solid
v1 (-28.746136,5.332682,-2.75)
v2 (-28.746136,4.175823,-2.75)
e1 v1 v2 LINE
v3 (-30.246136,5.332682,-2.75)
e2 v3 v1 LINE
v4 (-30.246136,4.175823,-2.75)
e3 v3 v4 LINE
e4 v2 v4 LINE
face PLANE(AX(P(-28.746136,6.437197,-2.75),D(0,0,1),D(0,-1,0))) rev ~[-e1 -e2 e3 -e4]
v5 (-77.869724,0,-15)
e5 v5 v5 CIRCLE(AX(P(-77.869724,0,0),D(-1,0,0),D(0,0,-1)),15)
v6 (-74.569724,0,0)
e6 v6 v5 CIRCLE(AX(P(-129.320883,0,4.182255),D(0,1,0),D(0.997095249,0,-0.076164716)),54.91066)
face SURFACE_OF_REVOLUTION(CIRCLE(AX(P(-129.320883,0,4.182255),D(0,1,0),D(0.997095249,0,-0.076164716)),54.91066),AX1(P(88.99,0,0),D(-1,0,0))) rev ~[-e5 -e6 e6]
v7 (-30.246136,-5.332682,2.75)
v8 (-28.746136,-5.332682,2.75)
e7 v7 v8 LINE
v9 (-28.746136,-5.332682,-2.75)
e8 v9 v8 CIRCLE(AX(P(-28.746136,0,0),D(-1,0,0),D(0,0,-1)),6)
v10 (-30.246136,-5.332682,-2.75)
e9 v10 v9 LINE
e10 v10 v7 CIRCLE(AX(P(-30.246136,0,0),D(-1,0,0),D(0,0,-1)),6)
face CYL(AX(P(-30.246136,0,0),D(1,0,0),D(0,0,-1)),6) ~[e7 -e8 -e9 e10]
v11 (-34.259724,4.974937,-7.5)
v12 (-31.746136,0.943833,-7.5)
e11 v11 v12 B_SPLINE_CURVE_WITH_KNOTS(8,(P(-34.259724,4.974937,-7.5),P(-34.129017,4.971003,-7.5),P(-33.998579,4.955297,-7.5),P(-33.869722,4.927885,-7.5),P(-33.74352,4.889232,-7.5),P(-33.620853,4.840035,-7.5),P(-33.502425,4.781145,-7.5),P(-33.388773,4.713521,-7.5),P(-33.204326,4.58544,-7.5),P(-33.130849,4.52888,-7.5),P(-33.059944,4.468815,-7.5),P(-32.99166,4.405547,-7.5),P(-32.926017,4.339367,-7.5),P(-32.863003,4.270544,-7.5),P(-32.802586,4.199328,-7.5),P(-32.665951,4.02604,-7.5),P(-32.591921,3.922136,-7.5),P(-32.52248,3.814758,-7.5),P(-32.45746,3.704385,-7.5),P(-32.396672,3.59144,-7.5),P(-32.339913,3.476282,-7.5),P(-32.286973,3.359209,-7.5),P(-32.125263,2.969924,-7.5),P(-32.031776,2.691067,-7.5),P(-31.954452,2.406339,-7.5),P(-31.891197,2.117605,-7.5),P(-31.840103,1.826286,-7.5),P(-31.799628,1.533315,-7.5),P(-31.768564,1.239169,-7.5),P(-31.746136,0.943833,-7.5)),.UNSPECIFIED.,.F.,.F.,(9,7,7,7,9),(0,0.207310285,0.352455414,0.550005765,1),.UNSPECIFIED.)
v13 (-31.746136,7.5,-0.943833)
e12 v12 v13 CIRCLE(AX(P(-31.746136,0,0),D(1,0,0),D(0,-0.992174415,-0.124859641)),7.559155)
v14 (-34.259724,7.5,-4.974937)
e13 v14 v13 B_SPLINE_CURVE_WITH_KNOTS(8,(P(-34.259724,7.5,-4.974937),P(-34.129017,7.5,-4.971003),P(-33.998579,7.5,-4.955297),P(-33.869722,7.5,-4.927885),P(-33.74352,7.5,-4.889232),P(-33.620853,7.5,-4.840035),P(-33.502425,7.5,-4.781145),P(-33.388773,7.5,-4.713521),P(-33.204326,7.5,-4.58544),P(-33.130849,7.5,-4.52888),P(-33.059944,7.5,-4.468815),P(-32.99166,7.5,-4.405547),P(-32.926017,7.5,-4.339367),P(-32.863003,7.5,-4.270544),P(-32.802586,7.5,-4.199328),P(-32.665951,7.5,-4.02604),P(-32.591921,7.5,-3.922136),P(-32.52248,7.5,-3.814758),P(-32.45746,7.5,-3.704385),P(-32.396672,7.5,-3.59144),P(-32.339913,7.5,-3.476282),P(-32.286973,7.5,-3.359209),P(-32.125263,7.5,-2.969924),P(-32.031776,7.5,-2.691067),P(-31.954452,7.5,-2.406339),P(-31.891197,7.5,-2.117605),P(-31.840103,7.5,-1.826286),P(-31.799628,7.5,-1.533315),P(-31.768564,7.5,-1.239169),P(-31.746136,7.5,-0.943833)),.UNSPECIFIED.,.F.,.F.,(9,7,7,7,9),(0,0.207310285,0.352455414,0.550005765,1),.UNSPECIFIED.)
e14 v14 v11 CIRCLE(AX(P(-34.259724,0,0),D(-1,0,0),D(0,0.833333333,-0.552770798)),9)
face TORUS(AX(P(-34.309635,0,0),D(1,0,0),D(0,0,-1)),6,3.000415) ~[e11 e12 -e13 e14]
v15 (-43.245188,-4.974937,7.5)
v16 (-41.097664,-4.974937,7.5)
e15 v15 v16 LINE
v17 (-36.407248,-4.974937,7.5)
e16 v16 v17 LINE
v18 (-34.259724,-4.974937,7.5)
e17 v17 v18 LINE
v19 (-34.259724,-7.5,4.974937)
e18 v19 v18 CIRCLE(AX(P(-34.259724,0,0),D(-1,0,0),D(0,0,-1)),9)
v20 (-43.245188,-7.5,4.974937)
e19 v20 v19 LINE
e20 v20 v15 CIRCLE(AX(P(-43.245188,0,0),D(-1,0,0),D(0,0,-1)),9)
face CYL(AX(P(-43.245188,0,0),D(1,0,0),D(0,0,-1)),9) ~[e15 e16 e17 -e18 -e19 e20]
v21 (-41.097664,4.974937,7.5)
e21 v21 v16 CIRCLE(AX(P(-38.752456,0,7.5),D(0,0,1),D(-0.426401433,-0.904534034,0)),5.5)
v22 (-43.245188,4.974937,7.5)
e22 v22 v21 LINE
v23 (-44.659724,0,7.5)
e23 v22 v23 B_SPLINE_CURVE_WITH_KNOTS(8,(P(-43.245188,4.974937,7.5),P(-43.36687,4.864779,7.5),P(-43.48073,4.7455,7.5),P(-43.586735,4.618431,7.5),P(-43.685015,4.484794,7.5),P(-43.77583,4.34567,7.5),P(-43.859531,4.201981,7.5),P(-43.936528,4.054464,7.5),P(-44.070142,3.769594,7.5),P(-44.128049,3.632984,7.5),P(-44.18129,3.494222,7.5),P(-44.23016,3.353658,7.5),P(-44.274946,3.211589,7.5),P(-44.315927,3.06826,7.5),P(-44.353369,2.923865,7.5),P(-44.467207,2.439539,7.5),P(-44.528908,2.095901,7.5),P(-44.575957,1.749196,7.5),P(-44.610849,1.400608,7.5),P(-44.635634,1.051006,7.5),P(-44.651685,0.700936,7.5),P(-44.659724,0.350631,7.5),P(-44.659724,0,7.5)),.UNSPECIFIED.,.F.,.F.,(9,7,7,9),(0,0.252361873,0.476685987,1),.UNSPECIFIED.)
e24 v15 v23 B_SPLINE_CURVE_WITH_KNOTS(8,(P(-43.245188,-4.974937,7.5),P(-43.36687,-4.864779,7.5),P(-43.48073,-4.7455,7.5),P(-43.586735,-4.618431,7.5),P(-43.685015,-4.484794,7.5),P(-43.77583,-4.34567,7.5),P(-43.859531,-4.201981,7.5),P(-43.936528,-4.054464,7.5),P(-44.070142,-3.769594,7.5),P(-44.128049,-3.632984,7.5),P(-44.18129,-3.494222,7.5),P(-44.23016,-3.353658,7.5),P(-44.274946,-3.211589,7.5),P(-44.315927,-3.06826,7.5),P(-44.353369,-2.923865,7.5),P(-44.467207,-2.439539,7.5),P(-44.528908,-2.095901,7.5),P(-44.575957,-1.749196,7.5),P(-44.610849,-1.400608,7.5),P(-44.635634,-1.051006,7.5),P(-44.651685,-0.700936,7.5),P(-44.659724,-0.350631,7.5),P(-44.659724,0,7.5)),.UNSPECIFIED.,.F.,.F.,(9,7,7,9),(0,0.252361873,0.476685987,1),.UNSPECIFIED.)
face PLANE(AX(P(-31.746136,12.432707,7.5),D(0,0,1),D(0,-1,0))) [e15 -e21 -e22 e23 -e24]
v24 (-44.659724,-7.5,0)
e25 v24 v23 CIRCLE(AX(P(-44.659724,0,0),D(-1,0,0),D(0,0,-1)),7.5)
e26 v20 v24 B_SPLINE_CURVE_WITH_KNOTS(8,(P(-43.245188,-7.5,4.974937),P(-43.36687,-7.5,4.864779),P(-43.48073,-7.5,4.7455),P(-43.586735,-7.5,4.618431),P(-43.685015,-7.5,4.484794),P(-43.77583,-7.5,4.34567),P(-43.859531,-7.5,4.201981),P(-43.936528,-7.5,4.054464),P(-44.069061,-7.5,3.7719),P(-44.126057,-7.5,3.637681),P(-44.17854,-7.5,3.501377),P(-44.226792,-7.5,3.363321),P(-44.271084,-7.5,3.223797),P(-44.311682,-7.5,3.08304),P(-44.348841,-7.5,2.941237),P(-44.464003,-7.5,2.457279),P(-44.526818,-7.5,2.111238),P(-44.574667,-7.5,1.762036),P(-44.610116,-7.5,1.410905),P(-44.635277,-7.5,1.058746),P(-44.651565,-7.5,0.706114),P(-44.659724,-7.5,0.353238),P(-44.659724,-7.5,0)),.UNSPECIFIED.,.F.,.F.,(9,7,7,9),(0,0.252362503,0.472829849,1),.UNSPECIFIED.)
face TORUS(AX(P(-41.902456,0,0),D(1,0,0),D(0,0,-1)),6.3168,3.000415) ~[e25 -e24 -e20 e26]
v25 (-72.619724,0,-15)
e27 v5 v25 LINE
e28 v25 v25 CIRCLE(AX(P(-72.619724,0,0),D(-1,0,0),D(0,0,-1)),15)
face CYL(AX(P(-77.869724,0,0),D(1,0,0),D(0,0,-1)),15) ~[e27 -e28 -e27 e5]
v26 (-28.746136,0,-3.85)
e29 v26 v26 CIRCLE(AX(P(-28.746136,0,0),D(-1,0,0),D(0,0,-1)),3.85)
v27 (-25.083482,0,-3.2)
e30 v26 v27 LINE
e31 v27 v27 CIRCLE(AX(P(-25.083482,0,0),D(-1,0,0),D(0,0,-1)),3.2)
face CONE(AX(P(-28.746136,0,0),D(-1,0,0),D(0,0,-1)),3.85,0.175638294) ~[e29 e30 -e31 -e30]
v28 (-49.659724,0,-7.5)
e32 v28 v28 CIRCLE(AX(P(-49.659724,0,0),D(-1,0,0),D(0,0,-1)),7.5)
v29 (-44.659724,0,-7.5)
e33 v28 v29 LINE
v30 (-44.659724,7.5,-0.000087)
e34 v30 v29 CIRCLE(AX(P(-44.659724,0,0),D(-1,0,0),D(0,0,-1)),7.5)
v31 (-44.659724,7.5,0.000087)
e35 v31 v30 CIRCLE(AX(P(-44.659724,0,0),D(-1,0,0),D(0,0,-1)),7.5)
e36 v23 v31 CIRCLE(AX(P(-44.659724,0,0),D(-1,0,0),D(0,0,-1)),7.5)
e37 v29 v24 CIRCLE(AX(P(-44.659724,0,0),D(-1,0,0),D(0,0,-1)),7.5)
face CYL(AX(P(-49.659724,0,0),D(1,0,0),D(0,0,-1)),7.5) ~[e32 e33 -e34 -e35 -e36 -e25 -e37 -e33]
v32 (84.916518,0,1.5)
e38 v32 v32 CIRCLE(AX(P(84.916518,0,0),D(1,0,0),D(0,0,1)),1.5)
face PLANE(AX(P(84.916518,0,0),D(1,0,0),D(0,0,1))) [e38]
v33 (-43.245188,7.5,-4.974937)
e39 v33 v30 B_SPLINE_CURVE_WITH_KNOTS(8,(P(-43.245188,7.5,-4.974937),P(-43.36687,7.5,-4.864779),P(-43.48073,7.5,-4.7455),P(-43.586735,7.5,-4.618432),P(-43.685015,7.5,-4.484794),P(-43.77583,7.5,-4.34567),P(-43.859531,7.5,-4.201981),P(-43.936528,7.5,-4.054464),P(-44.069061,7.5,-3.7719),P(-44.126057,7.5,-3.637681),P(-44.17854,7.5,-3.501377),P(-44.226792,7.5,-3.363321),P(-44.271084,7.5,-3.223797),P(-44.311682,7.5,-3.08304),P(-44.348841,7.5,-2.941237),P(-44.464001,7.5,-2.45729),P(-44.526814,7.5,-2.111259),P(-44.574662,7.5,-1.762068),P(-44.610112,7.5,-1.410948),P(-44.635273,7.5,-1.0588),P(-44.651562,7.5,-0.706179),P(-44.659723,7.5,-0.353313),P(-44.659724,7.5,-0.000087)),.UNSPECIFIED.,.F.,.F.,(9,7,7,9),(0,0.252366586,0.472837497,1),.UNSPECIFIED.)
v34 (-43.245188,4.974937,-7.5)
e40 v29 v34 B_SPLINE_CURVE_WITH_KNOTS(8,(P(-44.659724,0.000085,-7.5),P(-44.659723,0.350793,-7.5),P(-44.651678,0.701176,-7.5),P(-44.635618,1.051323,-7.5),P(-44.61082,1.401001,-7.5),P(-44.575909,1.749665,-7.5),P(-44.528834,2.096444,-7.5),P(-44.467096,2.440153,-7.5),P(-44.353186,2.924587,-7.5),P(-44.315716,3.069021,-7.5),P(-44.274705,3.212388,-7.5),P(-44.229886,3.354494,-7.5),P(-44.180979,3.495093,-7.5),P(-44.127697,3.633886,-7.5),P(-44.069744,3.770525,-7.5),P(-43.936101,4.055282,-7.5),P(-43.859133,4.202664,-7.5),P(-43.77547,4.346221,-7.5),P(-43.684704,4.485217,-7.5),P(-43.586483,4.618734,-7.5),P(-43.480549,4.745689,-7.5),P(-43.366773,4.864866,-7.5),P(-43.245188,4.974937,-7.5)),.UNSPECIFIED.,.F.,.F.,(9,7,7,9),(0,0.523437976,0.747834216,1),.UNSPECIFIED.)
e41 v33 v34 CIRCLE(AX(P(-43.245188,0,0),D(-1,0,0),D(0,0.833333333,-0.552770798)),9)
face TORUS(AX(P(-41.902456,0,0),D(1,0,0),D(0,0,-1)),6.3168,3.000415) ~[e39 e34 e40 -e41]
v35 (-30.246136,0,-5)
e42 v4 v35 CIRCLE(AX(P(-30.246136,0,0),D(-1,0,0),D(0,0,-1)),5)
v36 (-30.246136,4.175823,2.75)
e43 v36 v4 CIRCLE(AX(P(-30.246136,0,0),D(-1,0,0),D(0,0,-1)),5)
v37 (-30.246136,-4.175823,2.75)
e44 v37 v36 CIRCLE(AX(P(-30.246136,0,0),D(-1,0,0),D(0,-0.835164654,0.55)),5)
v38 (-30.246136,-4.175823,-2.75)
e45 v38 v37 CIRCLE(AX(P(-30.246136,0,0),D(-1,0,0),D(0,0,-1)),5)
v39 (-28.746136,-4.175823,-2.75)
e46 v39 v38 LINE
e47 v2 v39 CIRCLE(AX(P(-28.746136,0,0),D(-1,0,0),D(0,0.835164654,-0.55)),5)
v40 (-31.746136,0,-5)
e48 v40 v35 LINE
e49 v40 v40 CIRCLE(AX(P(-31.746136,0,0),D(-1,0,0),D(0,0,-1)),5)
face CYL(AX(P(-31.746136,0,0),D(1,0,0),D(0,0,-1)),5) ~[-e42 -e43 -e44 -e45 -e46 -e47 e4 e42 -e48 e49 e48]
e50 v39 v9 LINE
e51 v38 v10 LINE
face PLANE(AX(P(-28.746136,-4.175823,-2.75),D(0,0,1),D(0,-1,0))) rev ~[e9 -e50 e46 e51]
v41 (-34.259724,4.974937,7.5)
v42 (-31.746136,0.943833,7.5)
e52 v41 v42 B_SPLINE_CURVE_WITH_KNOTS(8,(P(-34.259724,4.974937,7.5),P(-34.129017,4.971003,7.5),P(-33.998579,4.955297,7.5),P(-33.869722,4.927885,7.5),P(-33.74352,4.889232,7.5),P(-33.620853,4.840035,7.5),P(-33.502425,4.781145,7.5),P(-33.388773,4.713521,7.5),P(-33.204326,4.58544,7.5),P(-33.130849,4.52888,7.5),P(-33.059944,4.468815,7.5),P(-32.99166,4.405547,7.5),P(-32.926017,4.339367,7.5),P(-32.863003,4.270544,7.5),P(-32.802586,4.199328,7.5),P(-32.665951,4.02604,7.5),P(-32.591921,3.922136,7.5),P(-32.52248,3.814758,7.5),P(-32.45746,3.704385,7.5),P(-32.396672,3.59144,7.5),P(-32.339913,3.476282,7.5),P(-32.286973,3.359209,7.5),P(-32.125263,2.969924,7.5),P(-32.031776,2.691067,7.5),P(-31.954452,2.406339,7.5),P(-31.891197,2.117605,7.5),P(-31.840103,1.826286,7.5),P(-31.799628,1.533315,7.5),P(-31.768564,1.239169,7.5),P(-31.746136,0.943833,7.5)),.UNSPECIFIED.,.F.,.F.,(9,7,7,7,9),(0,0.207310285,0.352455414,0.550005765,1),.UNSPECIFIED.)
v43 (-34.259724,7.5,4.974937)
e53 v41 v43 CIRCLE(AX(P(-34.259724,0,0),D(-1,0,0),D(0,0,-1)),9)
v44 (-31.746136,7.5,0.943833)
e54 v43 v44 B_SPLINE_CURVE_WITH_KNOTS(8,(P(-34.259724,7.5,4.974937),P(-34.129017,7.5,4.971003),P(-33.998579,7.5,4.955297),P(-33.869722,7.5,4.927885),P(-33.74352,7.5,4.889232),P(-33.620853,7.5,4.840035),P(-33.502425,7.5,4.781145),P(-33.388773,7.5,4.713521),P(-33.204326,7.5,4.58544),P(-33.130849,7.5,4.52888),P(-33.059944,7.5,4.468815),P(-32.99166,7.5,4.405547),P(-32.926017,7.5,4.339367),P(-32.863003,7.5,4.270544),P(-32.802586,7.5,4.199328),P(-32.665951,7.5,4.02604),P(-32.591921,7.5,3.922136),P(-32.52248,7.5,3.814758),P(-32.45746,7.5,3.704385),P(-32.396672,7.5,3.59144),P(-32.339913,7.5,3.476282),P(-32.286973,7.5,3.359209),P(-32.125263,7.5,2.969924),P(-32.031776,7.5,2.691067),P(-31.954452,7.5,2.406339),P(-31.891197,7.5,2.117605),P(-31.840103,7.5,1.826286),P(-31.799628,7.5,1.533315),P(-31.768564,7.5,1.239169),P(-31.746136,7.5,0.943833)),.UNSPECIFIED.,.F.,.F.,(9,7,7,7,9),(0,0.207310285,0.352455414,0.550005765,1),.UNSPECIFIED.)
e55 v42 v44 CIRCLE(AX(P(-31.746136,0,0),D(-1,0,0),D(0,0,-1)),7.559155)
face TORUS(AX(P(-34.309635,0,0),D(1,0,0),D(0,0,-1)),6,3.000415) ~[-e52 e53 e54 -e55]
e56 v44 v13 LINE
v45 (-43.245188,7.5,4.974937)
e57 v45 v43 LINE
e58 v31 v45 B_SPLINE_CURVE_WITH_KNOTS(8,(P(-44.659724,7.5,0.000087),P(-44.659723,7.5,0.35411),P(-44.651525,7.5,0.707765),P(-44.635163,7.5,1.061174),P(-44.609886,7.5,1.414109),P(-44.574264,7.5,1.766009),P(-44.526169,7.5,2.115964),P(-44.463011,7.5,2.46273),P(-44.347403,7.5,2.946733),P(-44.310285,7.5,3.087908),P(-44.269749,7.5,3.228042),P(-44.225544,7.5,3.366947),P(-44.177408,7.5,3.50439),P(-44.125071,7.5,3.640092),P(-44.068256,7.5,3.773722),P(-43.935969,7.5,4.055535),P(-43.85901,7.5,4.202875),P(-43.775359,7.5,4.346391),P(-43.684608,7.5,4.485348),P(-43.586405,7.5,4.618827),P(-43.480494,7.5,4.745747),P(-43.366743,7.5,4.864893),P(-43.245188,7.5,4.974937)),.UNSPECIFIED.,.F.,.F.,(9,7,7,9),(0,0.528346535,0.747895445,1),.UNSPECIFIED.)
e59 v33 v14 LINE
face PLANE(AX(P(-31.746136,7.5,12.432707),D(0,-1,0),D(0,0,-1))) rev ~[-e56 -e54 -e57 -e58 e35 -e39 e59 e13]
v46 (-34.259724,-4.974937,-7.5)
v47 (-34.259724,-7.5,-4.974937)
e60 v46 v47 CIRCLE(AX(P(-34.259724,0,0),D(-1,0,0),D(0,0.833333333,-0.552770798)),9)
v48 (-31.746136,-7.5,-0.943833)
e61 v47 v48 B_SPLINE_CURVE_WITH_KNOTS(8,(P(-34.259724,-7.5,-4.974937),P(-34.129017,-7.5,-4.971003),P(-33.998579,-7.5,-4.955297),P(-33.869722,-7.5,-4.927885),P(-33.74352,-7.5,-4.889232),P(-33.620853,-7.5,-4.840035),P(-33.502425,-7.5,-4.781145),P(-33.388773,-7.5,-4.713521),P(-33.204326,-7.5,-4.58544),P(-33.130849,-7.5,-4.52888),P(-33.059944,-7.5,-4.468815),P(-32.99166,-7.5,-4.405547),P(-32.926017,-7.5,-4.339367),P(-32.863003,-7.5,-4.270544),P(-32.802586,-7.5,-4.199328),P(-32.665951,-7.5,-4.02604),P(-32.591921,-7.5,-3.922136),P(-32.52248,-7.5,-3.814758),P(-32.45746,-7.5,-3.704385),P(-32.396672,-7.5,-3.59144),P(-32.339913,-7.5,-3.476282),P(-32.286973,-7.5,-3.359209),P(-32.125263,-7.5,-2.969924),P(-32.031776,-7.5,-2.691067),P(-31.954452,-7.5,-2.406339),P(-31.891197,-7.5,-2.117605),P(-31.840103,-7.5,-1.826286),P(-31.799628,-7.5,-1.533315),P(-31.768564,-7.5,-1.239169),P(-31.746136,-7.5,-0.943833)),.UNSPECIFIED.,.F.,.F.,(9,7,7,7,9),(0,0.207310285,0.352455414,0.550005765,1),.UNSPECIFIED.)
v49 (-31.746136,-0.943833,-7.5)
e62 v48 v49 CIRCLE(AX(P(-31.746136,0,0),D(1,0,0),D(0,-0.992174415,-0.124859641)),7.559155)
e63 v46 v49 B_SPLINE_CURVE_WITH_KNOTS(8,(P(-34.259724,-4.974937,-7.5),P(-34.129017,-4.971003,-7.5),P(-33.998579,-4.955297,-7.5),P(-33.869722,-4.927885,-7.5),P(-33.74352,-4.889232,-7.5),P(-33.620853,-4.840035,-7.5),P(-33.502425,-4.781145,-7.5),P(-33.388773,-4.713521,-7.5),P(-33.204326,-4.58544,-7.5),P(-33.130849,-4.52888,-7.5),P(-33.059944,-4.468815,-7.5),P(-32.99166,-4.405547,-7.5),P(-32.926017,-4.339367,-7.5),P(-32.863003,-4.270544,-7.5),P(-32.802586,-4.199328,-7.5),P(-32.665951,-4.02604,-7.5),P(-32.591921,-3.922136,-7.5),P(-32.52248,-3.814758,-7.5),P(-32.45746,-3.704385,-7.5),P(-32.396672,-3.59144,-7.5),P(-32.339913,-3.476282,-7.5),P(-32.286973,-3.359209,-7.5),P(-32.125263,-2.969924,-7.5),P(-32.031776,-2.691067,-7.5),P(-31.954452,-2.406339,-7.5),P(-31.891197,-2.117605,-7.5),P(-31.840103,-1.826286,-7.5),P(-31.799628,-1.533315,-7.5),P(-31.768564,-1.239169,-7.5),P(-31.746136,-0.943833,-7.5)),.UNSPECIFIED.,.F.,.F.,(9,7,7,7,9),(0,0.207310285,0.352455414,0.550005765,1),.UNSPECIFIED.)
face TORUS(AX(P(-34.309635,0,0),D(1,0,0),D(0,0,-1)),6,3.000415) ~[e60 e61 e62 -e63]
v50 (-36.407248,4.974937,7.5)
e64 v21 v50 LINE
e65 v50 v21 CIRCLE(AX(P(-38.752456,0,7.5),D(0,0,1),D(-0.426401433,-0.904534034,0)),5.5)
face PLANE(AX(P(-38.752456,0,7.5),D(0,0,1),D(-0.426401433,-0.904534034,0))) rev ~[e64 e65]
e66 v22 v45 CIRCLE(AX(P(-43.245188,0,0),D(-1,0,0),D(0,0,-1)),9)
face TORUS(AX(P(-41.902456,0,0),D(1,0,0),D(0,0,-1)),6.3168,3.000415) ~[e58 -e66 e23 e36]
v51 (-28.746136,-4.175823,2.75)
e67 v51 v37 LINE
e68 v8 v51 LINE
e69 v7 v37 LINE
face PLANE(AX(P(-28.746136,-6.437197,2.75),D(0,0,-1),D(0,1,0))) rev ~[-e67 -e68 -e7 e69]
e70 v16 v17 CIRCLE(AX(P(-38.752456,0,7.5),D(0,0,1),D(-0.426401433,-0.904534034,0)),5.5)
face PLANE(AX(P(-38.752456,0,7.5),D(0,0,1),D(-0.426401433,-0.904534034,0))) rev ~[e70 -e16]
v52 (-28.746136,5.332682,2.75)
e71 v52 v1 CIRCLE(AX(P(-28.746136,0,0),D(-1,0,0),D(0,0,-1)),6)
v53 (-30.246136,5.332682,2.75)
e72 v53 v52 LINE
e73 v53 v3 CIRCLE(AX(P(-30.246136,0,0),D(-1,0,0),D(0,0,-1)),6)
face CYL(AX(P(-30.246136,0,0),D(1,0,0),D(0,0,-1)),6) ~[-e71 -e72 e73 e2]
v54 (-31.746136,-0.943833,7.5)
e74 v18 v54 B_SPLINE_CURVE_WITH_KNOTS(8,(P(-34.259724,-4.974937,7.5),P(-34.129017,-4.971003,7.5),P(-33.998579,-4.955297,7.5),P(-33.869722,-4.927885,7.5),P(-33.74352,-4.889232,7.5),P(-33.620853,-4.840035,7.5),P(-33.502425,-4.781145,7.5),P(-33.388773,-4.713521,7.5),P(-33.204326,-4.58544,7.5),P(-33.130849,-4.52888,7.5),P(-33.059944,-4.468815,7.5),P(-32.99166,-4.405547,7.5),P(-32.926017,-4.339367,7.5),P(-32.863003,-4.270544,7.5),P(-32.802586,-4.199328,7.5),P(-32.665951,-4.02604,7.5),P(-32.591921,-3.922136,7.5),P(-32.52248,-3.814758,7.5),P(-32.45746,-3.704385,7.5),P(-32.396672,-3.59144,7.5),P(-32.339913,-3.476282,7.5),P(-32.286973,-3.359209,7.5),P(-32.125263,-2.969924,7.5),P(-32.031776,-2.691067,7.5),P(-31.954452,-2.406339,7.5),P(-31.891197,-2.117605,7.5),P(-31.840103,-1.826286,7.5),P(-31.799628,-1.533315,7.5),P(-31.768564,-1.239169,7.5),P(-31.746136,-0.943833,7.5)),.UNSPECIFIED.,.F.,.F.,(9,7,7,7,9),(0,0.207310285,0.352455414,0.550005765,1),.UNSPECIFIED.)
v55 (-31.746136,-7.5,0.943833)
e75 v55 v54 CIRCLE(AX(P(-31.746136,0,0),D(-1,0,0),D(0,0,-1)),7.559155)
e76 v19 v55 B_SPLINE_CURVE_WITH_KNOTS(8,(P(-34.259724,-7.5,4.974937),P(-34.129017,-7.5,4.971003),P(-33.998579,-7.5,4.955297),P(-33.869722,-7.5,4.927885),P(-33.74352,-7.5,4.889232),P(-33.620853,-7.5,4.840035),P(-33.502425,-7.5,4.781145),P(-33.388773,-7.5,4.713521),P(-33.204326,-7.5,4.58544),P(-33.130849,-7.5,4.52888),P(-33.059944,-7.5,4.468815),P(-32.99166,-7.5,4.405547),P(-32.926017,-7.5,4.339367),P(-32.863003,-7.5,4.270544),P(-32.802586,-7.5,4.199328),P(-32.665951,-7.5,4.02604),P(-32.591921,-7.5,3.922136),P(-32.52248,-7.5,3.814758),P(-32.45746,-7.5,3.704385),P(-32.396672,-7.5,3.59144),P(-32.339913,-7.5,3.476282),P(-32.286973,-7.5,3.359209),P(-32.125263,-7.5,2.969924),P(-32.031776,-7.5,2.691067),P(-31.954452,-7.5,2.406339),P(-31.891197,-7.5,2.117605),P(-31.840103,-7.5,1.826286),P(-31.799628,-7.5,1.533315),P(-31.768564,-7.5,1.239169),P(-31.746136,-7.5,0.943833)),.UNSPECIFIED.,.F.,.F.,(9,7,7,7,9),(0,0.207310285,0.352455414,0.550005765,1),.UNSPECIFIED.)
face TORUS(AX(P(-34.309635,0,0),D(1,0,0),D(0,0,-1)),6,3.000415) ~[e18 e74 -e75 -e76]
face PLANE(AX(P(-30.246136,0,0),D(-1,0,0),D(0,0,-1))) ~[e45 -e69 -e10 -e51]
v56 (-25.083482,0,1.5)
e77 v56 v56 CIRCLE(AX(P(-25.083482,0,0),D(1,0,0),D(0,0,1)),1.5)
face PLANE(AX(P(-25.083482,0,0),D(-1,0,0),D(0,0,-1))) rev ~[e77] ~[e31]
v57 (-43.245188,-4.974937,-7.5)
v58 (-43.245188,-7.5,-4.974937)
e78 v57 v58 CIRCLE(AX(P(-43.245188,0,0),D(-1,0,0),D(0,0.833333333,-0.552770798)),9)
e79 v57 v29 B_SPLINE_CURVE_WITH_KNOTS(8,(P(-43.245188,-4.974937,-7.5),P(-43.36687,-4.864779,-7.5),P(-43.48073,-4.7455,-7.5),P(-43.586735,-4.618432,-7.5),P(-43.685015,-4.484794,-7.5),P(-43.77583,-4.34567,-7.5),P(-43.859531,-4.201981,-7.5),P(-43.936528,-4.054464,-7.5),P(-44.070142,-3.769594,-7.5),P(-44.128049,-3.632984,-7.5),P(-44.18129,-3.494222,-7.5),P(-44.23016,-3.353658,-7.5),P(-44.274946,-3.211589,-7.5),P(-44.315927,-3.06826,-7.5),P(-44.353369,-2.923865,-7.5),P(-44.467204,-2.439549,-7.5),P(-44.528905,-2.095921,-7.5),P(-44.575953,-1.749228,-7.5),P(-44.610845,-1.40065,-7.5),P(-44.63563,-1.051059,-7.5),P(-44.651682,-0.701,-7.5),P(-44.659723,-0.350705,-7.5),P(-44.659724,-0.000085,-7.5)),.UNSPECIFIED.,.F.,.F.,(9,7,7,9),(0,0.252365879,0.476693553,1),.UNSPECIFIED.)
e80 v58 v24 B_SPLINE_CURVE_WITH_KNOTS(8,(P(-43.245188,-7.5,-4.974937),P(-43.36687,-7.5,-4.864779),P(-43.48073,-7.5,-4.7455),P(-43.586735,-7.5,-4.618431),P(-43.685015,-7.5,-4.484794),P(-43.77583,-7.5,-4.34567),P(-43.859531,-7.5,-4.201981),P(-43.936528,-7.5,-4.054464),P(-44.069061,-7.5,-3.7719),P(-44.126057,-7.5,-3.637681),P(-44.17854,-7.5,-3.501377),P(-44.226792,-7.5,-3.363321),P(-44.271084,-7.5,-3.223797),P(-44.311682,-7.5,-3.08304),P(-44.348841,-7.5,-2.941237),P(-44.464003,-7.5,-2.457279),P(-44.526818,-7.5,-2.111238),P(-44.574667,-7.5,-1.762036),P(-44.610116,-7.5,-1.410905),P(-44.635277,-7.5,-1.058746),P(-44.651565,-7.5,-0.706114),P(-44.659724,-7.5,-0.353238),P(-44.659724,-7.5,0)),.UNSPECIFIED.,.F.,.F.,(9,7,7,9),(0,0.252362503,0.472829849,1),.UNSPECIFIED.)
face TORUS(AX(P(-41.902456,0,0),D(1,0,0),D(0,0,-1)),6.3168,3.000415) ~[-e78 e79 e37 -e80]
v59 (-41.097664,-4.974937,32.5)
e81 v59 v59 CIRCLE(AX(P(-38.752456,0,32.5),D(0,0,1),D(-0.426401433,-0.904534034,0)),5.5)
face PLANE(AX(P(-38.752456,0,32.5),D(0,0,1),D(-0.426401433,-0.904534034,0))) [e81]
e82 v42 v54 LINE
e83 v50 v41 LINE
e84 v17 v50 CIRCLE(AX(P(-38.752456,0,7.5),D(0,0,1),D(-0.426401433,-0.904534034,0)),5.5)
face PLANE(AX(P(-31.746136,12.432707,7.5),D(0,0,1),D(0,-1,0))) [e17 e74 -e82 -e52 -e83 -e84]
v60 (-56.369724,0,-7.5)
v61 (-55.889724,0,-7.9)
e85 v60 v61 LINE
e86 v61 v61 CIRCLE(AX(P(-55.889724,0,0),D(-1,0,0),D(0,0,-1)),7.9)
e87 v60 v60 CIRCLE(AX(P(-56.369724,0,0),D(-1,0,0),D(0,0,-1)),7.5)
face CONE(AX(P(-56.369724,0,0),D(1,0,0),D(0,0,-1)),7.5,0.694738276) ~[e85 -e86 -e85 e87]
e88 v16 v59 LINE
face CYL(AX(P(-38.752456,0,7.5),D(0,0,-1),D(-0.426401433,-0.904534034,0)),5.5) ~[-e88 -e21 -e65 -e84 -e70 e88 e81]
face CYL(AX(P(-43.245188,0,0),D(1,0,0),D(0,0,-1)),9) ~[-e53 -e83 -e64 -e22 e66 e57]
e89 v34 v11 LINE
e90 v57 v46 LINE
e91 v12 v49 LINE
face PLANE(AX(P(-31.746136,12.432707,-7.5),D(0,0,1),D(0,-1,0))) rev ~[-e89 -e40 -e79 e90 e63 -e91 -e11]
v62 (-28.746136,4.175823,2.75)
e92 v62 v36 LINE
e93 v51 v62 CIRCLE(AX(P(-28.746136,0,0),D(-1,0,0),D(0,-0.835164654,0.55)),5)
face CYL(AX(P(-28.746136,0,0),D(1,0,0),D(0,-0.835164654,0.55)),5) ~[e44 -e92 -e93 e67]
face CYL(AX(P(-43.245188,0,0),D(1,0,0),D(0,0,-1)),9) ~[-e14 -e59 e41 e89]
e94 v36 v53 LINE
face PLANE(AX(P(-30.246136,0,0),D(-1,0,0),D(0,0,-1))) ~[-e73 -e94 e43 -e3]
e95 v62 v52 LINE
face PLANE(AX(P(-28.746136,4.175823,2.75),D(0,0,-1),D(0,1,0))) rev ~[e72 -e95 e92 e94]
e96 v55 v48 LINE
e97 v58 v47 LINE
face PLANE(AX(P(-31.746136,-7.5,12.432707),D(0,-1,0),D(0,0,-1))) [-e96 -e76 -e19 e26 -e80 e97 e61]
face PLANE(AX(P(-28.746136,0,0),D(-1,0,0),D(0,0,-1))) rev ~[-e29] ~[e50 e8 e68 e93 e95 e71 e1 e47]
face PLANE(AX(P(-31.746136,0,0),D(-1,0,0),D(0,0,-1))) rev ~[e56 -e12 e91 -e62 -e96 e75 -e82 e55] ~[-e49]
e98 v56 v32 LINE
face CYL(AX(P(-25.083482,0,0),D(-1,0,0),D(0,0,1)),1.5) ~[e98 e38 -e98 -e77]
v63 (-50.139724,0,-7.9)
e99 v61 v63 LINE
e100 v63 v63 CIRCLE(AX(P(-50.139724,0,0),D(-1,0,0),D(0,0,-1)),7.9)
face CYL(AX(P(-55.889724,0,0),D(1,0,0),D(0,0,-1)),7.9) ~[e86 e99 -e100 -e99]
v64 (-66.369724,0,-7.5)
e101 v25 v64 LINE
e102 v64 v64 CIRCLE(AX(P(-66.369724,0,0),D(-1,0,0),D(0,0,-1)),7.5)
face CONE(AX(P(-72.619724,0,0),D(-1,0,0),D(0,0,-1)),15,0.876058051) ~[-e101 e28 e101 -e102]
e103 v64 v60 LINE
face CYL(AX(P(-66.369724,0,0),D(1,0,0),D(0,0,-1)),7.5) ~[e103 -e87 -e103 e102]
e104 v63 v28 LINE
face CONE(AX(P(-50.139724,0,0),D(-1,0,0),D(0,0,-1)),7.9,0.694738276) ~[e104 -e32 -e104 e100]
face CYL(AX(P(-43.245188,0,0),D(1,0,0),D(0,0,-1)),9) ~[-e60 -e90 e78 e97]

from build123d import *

# Parameters (mm, degrees)
SKETCH2_W           = 24.86541407
SKETCH2_H           = 5.423229841
SKETCH2_H_2         = 4.001260317
CUT_EXTRUDE1_DEPTH  = 15
CIRPATTERN1_COUNT   = 2
CIRPATTERN1_ANGLE   = 90
CUT_EXTRUDE2_DEPTH  = 1.5
SKETCH4_R           = 5.5
BOSS_EXTRUDE1_DEPTH = 25
SKETCH5_R           = 1.5
BOSS_EXTRUDE2_DEPTH = 110


with BuildPart() as part:
    # Sketch1 → Revolve1 (revolve)
    with BuildSketch(Plane.XY, mode=Mode.PRIVATE) as revolve1_sk:
        with BuildLine():
            ThreePointArc((-74.569724464, 0), (-75.692690434, -7.615947487), (-77.869724464, -15))
            Line((-77.869724464, -15), (-72.619724464, -15))
            Line((-72.619724464, -15), (-66.369724464, -7.5))
            Line((-66.369724464, -7.5), (-56.369724464, -7.5))
            Line((-56.369724464, -7.5), (-55.889724464, -7.9))
            Line((-55.889724464, -7.9), (-50.139724464, -7.9))
            Line((-50.139724464, -7.9), (-49.659724464, -7.5))
            Line((-49.659724464, -7.5), (-44.659724464, -7.5))
            ThreePointArc((-44.659724464, -7.5), (-44.085344133, -8.375316627), (-43.245187811, -9))
            Line((-43.245187811, -9), (-40.559724464, -9))
            Line((-40.559724464, -9), (-34.259724464, -9))
            ThreePointArc((-34.259724464, -9), (-32.817493666, -8.603076001), (-31.746136172, -7.559154808))
            Line((-31.746136172, -7.559154808), (-31.746136172, -5))
            Line((-31.746136172, -5), (-30.246136172, -5))
            Line((-30.246136172, -5), (-30.246136172, -6))
            Line((-30.246136172, -6), (-28.746136172, -6))
            Line((-28.746136172, -6), (-28.746136172, -3.85))
            Line((-28.746136172, -3.85), (-25.083482145, -3.2))
            Line((-25.083482145, -3.2), (-25.083482145, 0))
            Line((-25.083482145, 0), (-74.569724464, 0))
        make_face()
    revolve(revolve1_sk.sketch.rotate(Axis((88.99, 0, 0), (-1, 0, 0)), 270), axis=Axis((88.99, 0, 0), (-1, 0, 0)))

    # Sketch2 → Cut-Extrude1 (cut)
    with BuildSketch(Plane(origin=(-31.746136172, 0, 0), x_dir=(0, 0, -1), z_dir=(1, 0, 0))):
        with Locations((0, -10.211614921)):
            Rectangle(SKETCH2_W, SKETCH2_H)
        with Locations((0, 9.500630158)):
            Rectangle(SKETCH2_W, SKETCH2_H_2)
    cut_extrude1 = extrude(amount=-CUT_EXTRUDE1_DEPTH, mode=Mode.SUBTRACT)

    # CirPattern1: Cut-Extrude1 ×2 about axis
    cirpattern1_axis = Axis((88.99, 0, 0), (-1, 0, 0))
    for i in range(1, CIRPATTERN1_COUNT):
        add(cut_extrude1.rotate(cirpattern1_axis, i * CIRPATTERN1_ANGLE / (CIRPATTERN1_COUNT - 1)), mode=Mode.SUBTRACT)

    # Sketch3 → Cut-Extrude2 (cut)
    with BuildSketch(Plane(origin=(-28.746136172, 0, 0), x_dir=(0, 0, -1), z_dir=(1, 0, 0))):
        with BuildLine():
            Line((2.75, -4.175823272), (2.75, -6.437196595))
            Line((2.75, -6.437196595), (5.963766818, -6.437196595))
            Line((5.963766818, -6.437196595), (6.43018781, 6.437196595))
            Line((6.43018781, 6.437196595), (2.75, 6.437196595))
            Line((2.75, 6.437196595), (2.75, 4.175823272))
            ThreePointArc((2.75, 4.175823272), (5, 0), (2.75, -4.175823272))
        make_face()
        with BuildLine():
            Line((-2.75, -6.437196595), (-2.75, -4.175823272))
            ThreePointArc((-2.75, -4.175823272), (-5, 0), (-2.75, 4.175823272))
            Line((-2.75, 4.175823272), (-2.75, 6.437196595))
            Line((-2.75, 6.437196595), (-6.280612264, 6.437196595))
            Line((-6.280612264, 6.437196595), (-6.280612264, -6.437196595))
            Line((-6.280612264, -6.437196595), (-2.75, -6.437196595))
        make_face()
    extrude(amount=-CUT_EXTRUDE2_DEPTH, mode=Mode.SUBTRACT)

    # Sketch4 → Boss-Extrude1 (add)
    with BuildSketch(Plane.XY.offset(7.5)):
        with Locations(Location((-38.752456137, 0, 0), (0, 0, 244.760598179))):
            Circle(SKETCH4_R)
    extrude(amount=BOSS_EXTRUDE1_DEPTH)

    # Sketch5 → Boss-Extrude2 (add)
    with BuildSketch(Plane(origin=(-25.083482145, 0, 0), x_dir=(0, 0, -1), z_dir=(1, 0, 0))):
        with Locations(Location((0, 0, 0), (0, 0, 180))):
            Circle(SKETCH5_R)
    extrude(amount=BOSS_EXTRUDE2_DEPTH)


solid = part.part
